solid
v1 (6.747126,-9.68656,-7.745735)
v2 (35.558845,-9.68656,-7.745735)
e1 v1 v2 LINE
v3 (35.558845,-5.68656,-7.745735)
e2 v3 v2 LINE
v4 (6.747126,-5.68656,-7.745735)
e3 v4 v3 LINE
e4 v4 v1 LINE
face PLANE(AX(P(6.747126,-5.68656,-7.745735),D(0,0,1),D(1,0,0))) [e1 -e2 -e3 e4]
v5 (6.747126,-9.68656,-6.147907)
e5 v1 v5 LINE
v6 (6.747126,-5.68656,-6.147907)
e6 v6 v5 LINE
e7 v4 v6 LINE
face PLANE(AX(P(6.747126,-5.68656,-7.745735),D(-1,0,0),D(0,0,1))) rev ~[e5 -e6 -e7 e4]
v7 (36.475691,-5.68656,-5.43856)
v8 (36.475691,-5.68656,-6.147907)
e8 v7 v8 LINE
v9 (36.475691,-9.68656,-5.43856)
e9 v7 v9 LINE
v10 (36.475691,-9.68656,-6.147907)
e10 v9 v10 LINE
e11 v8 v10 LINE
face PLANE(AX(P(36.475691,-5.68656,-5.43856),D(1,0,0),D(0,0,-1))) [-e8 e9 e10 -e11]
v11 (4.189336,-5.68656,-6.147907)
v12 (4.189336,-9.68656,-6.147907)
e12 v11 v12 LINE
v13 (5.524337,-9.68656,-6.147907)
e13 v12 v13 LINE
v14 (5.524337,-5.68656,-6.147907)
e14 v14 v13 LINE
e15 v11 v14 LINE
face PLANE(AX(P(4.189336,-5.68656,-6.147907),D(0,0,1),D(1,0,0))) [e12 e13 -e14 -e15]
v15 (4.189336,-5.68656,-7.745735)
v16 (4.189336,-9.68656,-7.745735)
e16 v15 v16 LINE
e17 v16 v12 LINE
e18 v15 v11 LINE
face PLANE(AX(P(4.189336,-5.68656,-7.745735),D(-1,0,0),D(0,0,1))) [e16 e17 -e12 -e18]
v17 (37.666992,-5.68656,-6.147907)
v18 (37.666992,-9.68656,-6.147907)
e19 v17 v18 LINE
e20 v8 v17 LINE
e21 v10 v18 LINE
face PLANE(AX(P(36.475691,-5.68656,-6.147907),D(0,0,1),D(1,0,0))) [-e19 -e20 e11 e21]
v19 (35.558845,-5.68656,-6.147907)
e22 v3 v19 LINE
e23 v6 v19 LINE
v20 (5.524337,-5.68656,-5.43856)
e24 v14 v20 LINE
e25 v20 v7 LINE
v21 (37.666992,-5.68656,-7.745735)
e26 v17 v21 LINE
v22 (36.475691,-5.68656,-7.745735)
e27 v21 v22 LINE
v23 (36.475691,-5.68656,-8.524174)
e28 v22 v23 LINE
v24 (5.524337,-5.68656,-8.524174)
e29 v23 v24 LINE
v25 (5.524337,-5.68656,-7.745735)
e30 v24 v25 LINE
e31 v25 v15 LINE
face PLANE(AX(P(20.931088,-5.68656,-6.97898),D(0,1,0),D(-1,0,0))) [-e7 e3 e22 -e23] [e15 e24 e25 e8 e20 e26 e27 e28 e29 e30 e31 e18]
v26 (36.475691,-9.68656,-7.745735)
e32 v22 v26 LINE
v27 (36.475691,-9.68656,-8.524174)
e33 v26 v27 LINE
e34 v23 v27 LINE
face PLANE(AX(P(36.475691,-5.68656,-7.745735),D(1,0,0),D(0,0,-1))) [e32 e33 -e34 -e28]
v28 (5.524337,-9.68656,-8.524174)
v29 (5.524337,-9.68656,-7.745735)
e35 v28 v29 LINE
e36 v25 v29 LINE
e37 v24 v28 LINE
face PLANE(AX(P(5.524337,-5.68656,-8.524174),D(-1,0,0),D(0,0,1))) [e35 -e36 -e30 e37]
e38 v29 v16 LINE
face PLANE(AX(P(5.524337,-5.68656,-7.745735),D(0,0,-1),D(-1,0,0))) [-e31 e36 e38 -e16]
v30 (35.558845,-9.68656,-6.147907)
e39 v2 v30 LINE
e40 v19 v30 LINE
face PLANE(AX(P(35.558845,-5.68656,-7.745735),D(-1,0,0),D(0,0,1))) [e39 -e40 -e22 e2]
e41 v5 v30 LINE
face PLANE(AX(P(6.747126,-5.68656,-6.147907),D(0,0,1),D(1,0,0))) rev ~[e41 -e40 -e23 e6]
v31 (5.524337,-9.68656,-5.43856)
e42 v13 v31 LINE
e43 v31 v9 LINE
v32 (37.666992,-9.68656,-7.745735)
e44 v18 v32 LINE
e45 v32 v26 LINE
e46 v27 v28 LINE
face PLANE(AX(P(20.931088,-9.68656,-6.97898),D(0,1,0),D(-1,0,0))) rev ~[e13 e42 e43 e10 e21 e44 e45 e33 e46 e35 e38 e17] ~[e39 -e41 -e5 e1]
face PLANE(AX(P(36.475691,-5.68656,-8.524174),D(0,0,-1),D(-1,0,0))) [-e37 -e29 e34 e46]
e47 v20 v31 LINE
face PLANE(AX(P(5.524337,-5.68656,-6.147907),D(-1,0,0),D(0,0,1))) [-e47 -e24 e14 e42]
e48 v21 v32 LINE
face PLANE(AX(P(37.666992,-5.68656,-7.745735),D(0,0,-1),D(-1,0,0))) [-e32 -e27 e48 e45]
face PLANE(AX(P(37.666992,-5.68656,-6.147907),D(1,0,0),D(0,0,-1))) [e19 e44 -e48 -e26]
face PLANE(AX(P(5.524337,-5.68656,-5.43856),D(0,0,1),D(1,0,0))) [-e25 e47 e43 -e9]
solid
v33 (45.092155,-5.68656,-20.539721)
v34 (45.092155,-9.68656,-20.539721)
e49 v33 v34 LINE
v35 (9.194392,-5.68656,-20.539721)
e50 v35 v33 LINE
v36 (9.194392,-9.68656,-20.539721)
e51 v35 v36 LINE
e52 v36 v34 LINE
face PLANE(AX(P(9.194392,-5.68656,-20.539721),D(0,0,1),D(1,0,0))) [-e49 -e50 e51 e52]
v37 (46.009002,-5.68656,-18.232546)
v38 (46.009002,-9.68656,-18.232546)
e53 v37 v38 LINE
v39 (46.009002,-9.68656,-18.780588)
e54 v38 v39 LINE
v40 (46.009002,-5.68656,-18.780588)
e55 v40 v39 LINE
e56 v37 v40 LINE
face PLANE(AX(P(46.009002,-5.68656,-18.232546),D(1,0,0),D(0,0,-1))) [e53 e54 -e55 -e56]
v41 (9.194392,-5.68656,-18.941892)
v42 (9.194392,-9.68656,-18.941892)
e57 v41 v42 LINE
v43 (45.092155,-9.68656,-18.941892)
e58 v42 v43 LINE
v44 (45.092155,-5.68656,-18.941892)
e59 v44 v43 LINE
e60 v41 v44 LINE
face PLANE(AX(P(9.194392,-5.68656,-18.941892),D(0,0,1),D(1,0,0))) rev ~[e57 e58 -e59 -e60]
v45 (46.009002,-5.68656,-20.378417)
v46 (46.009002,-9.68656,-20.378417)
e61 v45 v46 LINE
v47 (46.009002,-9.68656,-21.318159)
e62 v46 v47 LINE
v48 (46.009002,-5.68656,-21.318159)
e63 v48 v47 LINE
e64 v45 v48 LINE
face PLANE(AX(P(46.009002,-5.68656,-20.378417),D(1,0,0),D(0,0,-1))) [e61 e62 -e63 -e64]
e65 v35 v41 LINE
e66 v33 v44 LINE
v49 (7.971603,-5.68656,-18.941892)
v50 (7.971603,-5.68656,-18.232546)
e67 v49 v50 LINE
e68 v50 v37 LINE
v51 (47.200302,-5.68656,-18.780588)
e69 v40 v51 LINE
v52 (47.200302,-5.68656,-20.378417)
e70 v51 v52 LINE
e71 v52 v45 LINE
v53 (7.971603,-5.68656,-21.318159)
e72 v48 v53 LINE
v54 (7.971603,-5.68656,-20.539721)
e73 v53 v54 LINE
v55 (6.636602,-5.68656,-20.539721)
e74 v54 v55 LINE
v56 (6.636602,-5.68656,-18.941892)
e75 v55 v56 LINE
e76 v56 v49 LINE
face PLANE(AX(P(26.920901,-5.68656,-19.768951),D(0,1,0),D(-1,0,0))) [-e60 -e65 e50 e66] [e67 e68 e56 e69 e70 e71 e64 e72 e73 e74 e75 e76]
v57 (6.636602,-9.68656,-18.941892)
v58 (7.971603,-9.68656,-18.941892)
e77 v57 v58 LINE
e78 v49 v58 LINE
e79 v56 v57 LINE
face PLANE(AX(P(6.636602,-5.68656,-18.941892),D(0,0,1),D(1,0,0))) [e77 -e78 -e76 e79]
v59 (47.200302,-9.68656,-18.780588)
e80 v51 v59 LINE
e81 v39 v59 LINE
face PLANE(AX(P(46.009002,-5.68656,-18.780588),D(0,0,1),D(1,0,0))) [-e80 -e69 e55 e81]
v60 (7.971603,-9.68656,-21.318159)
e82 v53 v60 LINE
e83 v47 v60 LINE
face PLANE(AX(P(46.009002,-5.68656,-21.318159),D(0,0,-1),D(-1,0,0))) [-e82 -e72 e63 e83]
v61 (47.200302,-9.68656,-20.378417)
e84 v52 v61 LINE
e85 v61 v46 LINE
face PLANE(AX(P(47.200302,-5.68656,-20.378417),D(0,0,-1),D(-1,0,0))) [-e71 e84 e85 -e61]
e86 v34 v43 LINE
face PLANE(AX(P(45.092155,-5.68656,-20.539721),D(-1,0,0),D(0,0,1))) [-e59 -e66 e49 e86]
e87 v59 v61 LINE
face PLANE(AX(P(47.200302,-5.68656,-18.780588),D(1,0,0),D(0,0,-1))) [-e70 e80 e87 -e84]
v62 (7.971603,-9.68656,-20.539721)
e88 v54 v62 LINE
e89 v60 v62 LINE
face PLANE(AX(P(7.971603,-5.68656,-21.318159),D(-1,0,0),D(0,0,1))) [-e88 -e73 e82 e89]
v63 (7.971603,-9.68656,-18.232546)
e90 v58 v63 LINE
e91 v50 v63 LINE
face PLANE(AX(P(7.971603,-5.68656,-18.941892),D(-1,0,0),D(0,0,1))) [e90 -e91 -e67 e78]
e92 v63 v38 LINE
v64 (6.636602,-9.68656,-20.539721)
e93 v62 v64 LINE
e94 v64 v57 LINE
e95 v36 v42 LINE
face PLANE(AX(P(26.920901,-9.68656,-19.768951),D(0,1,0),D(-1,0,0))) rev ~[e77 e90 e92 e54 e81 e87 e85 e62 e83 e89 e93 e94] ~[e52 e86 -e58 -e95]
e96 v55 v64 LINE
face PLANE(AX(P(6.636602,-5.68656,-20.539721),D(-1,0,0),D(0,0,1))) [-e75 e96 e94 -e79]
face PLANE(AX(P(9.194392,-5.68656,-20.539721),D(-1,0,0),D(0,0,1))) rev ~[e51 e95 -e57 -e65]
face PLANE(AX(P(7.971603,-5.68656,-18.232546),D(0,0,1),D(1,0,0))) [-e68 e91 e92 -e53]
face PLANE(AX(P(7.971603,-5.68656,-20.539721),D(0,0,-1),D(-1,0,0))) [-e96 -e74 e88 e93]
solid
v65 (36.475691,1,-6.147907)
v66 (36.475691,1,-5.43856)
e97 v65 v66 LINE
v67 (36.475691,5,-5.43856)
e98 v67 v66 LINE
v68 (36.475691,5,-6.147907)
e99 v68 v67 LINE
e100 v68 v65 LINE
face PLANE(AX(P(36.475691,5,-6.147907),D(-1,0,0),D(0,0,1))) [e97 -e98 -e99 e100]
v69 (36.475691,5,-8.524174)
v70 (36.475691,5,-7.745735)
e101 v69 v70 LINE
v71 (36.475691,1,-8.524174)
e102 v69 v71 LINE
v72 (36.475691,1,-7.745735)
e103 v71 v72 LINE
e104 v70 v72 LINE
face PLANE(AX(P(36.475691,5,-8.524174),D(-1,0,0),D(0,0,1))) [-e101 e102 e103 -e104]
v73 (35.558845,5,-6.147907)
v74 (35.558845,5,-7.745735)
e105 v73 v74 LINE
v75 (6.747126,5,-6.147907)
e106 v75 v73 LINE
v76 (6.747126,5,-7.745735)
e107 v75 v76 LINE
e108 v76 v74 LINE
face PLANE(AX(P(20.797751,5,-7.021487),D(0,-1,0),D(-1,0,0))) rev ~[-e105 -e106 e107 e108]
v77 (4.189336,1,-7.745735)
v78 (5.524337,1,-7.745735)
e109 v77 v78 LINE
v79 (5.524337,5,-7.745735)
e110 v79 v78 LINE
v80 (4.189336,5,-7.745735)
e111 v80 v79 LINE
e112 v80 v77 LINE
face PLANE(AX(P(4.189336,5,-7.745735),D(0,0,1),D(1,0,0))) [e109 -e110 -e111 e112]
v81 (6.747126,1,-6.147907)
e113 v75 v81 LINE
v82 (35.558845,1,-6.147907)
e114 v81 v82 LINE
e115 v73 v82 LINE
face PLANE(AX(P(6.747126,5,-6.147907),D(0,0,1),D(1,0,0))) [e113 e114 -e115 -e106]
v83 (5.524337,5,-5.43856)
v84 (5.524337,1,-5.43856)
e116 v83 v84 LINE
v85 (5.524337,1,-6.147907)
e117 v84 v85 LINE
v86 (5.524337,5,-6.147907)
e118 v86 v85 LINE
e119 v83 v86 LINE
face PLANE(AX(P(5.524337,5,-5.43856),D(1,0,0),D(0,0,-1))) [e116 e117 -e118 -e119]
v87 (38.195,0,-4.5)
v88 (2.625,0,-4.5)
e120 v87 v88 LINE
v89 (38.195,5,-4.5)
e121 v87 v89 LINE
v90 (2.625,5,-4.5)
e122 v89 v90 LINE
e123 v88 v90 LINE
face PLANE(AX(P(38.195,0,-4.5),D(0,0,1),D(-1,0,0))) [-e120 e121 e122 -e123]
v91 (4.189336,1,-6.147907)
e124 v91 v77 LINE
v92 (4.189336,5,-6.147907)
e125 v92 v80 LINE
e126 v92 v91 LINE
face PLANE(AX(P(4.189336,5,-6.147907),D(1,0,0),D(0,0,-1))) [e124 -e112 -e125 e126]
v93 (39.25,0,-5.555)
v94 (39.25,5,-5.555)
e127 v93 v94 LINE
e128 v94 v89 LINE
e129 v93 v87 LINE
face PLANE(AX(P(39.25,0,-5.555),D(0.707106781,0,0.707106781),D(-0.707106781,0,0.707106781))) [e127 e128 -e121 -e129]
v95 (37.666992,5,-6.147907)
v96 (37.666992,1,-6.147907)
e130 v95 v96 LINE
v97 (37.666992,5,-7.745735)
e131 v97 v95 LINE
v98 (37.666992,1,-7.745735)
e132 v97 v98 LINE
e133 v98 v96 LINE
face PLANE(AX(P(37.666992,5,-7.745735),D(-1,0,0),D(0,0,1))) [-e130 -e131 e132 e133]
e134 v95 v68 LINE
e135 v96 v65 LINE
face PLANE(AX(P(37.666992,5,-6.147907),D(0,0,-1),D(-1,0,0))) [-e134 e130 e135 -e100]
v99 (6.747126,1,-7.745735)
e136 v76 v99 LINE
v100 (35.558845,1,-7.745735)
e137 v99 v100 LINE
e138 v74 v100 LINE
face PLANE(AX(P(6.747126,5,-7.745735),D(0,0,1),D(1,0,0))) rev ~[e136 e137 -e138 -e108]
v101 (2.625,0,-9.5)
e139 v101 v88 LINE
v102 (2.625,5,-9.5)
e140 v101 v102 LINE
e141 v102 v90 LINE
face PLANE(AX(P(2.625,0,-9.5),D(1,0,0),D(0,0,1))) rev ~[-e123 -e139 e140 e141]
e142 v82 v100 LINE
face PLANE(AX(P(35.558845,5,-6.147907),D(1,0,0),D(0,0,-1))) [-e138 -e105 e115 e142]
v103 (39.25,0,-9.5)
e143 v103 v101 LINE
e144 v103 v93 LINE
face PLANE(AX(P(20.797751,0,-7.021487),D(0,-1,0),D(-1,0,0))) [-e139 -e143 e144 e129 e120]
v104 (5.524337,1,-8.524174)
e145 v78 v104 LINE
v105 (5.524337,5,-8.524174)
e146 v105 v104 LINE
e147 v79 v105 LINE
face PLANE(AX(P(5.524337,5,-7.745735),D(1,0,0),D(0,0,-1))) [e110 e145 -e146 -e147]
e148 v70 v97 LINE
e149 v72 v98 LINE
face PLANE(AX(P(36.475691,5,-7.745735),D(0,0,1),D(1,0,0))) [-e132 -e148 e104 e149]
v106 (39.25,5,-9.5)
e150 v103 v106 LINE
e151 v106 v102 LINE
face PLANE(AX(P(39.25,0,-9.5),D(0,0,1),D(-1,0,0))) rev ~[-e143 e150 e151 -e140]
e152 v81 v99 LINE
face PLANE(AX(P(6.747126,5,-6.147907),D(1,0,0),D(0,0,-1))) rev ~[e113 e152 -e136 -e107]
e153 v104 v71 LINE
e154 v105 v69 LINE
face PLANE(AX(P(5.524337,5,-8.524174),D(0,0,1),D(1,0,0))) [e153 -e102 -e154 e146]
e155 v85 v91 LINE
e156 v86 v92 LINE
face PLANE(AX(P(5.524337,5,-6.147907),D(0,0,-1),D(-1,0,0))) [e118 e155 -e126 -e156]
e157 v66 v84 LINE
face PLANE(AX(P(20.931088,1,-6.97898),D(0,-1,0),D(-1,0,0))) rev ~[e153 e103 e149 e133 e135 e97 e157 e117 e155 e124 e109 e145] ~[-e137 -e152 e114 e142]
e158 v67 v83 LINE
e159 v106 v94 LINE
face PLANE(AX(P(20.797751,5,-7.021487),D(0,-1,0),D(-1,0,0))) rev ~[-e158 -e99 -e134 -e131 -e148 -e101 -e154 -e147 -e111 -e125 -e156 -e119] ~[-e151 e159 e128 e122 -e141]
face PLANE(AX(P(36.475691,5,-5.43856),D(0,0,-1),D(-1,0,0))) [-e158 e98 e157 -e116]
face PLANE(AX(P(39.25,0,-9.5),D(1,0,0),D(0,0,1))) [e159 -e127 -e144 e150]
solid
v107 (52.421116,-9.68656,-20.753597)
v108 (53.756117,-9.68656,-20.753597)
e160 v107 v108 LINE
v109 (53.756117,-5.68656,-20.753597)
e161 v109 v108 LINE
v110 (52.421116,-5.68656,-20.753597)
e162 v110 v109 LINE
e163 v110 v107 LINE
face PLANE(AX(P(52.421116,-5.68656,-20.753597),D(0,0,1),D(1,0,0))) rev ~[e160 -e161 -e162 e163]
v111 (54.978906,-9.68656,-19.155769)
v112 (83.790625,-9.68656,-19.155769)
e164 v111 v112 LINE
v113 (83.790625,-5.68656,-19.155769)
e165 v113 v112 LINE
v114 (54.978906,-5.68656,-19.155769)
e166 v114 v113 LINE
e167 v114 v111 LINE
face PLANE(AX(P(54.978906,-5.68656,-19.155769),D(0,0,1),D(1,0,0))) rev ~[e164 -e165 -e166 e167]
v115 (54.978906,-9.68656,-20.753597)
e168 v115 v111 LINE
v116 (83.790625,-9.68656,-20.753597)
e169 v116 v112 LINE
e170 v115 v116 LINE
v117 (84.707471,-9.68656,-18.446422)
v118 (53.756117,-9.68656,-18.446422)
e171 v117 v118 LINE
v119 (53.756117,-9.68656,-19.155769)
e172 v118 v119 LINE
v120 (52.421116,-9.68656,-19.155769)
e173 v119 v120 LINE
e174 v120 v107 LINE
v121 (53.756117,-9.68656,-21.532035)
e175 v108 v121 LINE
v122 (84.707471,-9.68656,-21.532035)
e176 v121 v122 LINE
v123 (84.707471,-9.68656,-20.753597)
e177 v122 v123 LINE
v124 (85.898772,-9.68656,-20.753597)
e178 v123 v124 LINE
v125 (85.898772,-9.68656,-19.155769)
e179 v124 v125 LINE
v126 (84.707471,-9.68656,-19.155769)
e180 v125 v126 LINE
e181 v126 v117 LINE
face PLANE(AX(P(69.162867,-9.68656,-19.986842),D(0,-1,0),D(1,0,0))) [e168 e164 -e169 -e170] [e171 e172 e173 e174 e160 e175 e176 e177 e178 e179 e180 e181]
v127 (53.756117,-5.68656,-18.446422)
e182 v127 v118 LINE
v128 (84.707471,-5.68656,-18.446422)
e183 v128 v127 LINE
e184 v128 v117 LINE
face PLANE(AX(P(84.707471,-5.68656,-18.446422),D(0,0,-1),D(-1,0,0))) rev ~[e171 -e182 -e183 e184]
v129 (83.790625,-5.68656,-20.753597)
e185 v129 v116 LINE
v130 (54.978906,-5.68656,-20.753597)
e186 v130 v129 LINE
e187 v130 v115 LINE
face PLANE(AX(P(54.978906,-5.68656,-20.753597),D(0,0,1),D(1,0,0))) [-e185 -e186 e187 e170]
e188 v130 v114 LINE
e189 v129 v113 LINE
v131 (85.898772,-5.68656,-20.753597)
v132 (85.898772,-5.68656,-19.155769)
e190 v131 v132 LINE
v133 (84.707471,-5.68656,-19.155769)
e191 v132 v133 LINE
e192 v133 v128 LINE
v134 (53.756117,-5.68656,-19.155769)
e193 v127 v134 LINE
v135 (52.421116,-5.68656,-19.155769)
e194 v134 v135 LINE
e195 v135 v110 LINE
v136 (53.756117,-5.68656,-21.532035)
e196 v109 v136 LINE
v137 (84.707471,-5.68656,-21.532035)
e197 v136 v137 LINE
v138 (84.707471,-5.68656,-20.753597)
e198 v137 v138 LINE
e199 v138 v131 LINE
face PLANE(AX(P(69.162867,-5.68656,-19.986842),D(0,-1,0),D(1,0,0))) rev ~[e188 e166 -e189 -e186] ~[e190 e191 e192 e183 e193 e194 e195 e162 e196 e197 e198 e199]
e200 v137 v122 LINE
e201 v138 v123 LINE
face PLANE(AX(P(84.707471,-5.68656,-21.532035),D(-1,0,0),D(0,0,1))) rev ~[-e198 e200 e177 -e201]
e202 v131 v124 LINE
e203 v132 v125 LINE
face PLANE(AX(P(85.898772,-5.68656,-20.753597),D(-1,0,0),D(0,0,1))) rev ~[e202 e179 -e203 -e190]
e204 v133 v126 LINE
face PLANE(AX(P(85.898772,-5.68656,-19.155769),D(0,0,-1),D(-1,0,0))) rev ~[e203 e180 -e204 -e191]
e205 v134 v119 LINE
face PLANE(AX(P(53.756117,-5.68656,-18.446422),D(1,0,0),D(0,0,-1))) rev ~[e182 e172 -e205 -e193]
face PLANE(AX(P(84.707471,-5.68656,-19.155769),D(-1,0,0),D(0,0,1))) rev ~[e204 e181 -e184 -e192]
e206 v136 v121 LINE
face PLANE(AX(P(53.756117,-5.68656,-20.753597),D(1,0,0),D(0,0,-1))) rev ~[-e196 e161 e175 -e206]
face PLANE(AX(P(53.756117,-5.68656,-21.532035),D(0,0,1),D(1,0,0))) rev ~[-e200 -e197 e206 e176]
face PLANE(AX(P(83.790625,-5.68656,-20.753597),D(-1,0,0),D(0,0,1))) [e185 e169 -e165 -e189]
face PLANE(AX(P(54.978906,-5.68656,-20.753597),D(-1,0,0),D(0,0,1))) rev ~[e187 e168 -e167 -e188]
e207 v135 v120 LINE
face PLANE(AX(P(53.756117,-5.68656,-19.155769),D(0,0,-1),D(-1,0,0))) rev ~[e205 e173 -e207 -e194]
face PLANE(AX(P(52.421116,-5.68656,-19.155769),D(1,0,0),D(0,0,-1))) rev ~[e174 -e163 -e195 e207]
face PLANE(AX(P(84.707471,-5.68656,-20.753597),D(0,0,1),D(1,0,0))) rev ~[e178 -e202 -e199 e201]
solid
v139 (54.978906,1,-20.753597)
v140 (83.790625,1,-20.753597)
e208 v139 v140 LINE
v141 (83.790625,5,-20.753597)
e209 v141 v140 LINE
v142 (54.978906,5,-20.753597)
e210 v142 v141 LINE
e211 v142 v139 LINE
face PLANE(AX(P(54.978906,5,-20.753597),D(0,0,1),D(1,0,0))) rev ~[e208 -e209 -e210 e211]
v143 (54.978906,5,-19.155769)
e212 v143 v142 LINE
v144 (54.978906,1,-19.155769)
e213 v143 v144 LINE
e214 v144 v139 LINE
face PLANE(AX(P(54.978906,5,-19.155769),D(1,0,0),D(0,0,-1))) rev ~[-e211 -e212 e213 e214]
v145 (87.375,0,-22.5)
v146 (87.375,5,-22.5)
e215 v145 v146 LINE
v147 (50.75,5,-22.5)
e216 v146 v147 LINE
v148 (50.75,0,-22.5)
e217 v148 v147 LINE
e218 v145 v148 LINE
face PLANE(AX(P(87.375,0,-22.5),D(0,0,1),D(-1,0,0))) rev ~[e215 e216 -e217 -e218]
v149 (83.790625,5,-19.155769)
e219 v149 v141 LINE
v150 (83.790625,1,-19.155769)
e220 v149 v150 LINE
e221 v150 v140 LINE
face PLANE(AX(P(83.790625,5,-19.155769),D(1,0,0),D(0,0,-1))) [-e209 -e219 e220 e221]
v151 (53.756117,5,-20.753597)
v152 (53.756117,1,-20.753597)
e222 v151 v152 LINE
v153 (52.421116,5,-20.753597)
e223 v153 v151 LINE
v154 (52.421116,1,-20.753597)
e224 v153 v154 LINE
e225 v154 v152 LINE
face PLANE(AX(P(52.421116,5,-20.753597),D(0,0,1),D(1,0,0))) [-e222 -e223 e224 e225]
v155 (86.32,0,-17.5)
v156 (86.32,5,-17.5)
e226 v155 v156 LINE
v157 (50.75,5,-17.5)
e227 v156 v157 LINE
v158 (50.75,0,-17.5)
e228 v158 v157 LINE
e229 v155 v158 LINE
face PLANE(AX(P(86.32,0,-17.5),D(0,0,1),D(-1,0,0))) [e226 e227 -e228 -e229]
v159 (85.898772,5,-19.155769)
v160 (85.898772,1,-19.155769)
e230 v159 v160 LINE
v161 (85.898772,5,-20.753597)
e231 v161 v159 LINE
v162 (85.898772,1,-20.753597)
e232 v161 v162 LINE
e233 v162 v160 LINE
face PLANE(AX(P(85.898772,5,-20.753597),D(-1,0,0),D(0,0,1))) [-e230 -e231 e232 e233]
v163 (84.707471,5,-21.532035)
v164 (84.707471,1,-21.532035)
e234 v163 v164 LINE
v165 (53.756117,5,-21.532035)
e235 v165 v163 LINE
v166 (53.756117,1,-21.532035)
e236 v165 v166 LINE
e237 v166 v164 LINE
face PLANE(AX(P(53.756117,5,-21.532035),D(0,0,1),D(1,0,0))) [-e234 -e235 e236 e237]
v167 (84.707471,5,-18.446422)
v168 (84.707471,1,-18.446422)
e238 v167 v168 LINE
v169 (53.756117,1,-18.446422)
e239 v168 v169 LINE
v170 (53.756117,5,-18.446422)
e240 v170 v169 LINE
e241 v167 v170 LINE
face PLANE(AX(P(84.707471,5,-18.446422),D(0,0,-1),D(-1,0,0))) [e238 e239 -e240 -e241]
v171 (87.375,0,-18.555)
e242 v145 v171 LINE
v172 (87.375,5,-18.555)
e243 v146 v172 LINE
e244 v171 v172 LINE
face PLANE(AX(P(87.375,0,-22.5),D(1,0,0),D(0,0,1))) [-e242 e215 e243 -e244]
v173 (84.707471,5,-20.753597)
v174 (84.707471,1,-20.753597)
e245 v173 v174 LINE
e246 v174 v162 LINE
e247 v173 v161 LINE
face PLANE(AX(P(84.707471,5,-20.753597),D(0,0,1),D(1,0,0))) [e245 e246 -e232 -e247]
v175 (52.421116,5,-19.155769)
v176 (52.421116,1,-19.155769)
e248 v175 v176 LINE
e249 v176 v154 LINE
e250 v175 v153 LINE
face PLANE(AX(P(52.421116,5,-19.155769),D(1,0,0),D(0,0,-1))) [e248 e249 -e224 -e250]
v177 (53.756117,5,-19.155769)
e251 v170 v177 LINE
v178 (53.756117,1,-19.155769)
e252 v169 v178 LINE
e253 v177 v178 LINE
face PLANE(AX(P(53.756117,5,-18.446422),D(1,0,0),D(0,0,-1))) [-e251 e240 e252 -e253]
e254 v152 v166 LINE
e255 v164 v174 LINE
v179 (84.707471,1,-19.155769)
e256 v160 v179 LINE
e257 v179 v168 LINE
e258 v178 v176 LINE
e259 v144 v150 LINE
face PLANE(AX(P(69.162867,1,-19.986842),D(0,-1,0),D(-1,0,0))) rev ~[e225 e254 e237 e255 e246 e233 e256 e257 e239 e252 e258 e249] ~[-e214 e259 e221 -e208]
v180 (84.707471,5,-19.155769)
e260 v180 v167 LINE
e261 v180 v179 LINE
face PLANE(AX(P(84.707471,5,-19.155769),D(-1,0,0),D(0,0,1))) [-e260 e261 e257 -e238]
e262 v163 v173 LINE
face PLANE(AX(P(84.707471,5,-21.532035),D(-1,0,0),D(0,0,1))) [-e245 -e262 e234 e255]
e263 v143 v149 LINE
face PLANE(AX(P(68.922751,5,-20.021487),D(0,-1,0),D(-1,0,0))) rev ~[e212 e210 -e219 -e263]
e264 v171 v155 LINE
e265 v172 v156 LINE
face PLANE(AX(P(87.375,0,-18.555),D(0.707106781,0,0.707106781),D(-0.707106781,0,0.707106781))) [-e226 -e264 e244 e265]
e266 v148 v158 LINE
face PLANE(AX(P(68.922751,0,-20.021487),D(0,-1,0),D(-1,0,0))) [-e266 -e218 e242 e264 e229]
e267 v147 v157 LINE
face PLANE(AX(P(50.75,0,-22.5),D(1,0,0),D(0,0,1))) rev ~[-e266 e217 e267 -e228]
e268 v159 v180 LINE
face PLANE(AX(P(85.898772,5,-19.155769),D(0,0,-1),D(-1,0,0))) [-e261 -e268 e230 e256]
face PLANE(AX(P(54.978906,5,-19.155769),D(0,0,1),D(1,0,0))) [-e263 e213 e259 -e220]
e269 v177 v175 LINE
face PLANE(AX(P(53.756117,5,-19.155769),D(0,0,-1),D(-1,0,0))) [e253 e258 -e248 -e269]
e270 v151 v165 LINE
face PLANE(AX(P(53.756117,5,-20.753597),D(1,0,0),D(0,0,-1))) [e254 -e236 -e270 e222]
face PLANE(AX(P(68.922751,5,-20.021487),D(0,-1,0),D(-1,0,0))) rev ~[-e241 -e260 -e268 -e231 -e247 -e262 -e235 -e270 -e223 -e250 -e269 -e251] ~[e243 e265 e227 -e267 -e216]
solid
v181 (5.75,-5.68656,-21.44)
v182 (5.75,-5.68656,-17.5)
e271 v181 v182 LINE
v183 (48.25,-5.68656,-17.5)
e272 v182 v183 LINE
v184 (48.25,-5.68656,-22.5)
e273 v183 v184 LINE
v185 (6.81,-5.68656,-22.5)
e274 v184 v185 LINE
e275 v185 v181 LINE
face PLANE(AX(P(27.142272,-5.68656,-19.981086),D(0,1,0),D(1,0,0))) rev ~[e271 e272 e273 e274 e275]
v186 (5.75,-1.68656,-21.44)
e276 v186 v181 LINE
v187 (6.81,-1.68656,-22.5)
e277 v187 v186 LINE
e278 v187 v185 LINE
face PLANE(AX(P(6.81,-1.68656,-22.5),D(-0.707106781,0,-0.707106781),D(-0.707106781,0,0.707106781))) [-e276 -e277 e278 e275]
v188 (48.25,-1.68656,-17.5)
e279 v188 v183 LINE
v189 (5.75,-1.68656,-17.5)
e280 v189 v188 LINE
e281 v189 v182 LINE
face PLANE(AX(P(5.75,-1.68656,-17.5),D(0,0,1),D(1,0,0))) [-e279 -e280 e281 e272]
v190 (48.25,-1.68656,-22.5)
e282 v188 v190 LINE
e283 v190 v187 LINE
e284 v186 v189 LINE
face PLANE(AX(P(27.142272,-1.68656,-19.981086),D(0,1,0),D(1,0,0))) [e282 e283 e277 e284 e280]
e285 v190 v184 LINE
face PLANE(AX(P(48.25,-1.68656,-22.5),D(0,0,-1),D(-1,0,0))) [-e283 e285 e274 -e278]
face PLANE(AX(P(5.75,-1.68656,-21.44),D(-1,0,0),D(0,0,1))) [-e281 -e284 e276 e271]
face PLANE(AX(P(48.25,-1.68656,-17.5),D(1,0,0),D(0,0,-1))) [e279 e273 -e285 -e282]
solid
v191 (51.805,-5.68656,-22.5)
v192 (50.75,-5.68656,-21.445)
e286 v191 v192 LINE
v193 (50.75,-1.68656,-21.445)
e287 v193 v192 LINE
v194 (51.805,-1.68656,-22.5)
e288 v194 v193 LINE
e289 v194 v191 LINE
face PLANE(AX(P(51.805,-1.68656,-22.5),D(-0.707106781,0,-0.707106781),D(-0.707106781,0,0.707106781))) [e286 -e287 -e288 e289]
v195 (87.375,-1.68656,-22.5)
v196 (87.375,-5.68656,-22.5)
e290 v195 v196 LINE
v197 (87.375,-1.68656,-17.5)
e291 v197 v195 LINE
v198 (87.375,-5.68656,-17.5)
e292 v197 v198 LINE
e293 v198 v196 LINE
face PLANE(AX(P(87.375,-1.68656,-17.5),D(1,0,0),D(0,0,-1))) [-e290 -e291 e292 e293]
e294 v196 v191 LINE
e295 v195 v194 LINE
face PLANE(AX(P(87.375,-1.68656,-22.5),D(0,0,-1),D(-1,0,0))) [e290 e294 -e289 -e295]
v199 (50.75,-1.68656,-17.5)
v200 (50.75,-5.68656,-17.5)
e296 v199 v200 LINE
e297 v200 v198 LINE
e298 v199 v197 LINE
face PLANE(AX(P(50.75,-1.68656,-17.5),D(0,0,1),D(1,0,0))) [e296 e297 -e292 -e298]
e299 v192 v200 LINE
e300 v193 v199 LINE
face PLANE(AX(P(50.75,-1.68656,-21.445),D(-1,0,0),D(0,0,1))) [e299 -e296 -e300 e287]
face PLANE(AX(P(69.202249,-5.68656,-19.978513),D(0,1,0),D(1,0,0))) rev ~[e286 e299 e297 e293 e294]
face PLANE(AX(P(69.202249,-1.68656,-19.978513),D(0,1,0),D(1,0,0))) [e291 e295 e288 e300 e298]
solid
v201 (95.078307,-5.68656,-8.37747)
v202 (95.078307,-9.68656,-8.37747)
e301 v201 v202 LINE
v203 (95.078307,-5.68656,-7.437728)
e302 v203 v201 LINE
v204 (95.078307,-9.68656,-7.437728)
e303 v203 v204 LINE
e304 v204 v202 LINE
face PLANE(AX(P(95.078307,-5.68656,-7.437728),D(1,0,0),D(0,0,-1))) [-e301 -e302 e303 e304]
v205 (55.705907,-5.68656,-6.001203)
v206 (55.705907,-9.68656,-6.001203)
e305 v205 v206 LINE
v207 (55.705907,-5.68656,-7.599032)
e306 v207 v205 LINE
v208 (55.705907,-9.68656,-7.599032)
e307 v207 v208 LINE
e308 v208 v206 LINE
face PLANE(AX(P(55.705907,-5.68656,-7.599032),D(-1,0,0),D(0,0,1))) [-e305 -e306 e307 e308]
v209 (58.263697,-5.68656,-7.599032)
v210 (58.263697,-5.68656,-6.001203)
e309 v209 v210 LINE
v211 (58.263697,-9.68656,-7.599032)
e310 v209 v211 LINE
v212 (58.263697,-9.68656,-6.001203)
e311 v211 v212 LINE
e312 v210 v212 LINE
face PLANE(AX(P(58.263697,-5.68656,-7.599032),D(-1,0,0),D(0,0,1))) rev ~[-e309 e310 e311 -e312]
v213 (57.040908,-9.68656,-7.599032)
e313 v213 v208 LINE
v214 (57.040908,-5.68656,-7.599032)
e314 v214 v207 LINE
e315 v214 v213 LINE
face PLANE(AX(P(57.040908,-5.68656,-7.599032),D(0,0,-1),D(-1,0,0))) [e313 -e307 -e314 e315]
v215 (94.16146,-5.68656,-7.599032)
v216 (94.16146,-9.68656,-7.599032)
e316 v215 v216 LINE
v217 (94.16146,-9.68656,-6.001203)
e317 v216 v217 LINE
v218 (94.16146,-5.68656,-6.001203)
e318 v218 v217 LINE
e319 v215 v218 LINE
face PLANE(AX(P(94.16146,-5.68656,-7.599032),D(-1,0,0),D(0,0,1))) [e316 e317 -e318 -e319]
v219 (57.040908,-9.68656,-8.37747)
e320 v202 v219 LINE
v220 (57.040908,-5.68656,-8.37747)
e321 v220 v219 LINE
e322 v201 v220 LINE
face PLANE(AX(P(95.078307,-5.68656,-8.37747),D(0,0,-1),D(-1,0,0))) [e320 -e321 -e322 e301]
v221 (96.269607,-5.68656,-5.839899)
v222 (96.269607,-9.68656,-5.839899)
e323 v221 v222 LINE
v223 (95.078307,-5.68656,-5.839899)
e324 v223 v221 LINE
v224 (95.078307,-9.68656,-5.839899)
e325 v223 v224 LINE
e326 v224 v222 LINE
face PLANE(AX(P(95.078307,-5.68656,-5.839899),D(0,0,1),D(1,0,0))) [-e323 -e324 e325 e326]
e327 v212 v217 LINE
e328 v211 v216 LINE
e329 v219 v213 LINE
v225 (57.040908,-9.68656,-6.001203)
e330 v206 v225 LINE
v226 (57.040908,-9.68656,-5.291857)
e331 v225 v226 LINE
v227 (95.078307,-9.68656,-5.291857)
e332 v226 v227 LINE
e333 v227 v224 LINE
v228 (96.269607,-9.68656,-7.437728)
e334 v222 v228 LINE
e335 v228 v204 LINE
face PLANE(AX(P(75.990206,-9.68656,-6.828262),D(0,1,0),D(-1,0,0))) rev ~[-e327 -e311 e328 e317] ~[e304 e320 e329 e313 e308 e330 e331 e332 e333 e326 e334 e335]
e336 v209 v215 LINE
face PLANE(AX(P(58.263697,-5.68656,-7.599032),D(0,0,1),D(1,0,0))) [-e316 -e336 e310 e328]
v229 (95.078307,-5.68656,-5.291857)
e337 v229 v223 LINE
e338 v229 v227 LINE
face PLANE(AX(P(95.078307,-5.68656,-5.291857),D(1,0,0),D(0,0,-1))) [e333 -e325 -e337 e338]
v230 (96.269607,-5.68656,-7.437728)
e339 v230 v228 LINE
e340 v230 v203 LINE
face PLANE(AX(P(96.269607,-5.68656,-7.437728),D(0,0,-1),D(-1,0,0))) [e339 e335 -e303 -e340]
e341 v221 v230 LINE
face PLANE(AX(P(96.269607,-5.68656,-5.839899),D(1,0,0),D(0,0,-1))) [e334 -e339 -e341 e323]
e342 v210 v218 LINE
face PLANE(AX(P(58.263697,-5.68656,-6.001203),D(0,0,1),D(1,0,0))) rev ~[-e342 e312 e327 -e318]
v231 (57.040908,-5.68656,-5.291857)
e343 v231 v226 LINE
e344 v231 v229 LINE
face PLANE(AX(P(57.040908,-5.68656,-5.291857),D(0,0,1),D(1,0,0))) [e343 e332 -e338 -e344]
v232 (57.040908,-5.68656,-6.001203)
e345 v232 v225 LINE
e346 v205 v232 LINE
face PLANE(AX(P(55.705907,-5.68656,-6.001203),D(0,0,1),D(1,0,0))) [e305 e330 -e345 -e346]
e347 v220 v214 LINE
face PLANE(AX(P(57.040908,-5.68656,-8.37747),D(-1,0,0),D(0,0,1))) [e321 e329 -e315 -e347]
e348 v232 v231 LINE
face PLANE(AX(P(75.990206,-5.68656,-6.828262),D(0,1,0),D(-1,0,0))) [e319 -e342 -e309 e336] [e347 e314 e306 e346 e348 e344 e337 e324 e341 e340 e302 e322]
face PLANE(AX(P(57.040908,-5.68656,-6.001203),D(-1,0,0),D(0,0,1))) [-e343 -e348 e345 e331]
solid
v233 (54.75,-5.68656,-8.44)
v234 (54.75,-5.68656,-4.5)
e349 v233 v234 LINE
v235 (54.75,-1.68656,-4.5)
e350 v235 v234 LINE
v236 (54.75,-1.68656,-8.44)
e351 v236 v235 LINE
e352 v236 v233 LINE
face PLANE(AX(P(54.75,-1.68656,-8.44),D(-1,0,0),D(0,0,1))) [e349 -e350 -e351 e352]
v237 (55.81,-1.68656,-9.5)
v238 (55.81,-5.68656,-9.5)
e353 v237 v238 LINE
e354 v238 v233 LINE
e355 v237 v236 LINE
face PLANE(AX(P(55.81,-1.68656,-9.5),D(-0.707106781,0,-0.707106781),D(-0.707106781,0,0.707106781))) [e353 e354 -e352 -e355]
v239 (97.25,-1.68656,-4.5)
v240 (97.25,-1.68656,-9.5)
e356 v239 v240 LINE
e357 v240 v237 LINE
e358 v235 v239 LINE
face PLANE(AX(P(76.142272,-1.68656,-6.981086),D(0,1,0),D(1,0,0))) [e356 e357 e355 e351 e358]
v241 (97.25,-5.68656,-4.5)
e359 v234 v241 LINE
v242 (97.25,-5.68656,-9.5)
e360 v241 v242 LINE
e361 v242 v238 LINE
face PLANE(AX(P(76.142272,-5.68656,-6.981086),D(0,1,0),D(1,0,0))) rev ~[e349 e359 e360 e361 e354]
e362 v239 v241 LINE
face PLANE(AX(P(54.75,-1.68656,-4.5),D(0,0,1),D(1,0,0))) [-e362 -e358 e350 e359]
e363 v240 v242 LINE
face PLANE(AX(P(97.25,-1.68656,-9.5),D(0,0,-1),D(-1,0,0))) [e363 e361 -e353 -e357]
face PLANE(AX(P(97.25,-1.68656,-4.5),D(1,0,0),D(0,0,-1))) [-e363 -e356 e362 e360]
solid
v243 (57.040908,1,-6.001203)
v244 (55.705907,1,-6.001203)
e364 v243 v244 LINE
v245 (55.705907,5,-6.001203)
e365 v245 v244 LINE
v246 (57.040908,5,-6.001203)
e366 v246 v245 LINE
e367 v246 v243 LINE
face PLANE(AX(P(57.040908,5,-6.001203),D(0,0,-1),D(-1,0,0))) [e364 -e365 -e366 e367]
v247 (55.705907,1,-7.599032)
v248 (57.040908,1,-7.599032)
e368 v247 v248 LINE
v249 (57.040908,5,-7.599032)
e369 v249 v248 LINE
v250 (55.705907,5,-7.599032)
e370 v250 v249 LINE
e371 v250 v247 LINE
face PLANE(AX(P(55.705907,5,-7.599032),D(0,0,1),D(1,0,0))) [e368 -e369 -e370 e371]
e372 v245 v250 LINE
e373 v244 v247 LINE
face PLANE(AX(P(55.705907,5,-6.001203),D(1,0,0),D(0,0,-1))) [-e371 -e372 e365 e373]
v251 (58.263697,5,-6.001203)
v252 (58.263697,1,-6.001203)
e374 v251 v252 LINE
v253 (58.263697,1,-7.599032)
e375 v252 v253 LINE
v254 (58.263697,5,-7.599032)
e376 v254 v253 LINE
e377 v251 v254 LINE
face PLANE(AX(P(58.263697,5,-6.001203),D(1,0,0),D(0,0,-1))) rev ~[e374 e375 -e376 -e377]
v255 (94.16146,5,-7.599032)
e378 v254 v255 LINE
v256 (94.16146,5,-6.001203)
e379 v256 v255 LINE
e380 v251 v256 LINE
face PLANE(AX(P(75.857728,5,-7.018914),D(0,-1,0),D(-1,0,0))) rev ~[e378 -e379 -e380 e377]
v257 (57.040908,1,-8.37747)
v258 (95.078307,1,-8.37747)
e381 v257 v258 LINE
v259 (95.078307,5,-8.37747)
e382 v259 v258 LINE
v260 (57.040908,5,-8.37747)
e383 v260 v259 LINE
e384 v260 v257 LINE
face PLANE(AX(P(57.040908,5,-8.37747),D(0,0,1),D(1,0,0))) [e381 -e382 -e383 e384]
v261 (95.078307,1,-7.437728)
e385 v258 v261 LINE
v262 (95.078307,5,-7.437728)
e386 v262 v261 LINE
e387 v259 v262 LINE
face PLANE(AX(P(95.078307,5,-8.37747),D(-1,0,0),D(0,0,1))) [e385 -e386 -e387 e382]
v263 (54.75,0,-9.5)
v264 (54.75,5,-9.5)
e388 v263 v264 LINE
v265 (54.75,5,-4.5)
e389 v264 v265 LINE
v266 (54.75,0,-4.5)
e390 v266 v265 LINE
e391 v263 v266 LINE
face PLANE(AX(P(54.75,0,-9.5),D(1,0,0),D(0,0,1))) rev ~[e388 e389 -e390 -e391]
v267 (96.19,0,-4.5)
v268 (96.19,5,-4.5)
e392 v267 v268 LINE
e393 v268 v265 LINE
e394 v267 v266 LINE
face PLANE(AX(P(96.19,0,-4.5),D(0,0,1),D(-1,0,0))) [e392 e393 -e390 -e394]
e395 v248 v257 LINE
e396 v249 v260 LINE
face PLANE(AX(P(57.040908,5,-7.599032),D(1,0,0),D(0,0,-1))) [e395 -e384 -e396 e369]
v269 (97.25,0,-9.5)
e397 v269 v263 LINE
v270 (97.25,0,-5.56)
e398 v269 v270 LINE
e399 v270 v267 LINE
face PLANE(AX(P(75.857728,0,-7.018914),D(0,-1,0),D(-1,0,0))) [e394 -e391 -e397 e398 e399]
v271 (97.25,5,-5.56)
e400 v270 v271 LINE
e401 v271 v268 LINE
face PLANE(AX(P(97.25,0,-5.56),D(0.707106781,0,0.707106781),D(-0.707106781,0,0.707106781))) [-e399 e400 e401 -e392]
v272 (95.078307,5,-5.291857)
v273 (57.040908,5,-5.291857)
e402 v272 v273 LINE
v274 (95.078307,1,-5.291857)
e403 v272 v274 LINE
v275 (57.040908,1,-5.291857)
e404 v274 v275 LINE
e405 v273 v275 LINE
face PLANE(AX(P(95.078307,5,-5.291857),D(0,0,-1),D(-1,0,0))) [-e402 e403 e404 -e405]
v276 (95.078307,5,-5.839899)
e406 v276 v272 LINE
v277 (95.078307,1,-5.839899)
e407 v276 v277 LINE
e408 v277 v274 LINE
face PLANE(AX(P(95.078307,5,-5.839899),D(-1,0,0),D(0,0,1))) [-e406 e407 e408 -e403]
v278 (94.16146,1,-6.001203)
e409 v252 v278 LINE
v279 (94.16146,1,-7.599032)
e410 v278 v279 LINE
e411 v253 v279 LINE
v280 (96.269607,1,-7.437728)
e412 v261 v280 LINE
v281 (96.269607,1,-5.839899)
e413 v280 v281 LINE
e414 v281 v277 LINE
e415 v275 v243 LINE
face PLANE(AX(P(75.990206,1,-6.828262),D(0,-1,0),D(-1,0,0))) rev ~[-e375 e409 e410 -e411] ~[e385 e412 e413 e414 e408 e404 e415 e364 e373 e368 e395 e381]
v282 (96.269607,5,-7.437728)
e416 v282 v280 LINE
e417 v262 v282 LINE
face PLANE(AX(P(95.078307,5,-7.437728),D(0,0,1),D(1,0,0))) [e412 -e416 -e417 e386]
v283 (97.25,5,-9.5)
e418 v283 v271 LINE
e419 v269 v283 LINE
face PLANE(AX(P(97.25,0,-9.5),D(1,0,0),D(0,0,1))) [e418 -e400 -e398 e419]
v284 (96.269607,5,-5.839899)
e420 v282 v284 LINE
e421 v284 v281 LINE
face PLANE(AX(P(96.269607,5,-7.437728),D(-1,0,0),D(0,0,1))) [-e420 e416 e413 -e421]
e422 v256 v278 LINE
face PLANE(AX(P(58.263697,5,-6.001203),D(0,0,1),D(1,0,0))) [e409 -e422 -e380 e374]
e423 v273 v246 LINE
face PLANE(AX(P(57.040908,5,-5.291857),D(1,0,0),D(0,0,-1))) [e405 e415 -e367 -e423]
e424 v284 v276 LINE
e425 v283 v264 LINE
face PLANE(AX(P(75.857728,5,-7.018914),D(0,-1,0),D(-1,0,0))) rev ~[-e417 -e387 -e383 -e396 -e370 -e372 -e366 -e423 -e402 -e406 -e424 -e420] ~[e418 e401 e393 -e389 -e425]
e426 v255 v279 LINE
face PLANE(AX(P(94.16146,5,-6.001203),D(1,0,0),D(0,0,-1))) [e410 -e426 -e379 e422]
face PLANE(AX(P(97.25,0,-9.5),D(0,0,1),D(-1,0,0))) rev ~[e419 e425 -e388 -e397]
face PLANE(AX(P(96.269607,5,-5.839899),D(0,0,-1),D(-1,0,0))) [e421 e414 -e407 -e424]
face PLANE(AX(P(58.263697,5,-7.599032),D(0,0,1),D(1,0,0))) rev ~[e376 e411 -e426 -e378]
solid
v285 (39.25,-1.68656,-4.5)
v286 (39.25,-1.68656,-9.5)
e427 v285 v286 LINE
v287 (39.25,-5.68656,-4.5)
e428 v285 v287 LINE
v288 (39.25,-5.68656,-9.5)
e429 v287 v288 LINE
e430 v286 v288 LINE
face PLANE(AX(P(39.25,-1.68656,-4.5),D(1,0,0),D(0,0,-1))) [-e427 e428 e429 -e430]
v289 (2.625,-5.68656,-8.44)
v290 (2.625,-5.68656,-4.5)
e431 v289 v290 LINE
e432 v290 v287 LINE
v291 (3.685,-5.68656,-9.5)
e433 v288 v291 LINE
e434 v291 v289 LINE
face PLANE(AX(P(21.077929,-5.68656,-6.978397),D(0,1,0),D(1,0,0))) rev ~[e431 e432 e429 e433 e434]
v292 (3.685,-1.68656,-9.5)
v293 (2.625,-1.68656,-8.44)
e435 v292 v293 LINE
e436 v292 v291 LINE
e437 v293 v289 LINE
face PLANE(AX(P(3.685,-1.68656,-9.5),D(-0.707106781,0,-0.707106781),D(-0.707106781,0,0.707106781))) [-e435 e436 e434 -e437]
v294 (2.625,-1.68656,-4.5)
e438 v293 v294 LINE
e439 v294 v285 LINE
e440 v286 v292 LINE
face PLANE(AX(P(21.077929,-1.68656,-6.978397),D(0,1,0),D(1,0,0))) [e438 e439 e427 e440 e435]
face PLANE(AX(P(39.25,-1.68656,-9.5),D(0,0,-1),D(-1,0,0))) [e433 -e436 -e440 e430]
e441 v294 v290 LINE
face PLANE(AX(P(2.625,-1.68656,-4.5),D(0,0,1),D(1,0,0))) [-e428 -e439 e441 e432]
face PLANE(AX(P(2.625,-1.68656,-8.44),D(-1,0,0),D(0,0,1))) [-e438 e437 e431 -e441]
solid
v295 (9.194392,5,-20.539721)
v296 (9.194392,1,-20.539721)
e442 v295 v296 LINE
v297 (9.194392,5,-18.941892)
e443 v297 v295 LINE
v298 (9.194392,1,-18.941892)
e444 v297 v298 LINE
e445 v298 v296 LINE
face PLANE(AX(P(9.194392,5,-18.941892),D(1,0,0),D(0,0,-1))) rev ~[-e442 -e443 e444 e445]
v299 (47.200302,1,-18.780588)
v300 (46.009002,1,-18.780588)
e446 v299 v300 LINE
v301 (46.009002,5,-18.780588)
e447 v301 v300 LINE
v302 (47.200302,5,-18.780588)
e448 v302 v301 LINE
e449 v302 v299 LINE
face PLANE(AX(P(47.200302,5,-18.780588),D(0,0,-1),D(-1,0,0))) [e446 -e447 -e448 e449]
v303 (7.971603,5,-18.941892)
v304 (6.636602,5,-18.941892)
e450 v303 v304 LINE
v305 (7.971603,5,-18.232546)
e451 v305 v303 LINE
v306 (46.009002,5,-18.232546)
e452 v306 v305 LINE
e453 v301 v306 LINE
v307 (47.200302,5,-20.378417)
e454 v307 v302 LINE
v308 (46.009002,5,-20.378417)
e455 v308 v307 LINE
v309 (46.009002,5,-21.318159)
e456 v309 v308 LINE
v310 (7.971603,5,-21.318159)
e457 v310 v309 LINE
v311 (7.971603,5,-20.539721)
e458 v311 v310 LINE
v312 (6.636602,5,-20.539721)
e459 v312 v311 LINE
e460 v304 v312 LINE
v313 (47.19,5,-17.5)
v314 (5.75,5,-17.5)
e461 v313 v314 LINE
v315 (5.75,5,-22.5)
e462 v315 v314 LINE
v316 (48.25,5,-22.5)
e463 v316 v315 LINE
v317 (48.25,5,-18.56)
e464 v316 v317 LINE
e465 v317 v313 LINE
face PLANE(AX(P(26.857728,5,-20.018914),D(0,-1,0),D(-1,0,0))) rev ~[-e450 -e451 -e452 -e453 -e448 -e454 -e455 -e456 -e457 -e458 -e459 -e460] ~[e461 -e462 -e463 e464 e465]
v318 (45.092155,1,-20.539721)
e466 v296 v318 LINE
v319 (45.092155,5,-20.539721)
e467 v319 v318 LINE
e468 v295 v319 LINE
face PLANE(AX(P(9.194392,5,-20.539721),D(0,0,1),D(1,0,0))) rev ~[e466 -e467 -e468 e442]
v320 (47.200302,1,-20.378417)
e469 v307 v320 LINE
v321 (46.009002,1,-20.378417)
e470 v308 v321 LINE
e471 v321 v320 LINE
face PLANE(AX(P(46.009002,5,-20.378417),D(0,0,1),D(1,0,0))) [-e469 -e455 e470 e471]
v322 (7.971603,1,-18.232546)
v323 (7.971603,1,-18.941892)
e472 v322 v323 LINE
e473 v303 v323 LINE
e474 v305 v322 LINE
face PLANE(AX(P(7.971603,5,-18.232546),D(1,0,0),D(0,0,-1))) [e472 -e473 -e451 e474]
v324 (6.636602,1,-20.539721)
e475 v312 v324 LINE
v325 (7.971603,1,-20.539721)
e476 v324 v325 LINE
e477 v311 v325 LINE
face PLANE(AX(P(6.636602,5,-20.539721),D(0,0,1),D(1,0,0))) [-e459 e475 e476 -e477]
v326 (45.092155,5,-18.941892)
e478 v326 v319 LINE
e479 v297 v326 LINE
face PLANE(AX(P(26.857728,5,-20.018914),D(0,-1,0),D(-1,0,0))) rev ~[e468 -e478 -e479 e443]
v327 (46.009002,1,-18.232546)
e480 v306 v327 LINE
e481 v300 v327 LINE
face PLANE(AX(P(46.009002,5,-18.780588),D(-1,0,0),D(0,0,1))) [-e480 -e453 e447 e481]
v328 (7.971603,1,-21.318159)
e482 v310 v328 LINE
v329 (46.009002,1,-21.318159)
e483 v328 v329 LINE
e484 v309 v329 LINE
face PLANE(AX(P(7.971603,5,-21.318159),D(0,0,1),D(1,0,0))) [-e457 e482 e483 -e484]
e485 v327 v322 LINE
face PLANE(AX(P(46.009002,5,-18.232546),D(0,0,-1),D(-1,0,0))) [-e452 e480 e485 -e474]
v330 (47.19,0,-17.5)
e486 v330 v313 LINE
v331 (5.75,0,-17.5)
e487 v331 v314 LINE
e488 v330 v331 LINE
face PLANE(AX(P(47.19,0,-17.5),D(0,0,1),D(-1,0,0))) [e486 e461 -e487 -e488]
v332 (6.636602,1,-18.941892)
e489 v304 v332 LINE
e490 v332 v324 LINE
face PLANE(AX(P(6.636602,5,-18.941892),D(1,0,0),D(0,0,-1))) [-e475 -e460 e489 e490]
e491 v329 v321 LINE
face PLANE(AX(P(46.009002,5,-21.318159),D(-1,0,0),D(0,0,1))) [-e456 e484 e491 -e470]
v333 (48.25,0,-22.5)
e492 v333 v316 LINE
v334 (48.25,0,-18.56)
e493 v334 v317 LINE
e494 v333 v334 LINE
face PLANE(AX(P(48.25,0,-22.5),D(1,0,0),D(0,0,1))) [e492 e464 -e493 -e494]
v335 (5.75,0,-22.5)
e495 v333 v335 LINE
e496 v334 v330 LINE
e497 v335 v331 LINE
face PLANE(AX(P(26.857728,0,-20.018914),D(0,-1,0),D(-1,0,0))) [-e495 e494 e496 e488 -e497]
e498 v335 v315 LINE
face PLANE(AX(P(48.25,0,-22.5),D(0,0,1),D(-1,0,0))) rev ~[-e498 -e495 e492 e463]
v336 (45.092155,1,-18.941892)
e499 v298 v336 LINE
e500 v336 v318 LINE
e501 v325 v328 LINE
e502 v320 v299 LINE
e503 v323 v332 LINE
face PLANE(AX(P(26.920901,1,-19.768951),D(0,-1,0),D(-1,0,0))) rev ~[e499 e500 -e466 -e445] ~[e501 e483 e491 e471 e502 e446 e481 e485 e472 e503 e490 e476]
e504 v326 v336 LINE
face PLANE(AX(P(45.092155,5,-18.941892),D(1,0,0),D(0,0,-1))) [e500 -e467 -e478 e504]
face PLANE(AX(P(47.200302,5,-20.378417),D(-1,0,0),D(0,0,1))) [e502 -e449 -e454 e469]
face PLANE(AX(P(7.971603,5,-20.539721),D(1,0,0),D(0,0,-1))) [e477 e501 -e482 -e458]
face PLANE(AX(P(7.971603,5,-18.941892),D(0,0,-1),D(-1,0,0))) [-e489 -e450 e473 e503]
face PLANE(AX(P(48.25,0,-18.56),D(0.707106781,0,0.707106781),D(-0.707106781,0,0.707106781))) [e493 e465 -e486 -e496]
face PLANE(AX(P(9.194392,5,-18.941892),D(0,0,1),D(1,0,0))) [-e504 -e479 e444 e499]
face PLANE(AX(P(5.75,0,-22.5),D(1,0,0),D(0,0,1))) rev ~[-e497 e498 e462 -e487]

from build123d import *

# Parameters (mm, degrees)
SV_DEPTH           = 5
SV_2_DEPTH         = 5
SV_3_DEPTH         = 5
SV_4_DEPTH         = 5
SKETCH3_W          = 28.811718275
SKETCH3_H          = 1.597828601
SKETCH3_W_2        = 35.897762959
SKETCH3_W_3        = 35.897762958
CUT_EXTRUDE1_DEPTH = 4
SV4_A_DEPTH        = 4
SV4_A_2_DEPTH      = 4
SV4_A_3_DEPTH      = 4
SV4_A_4_DEPTH      = 4
SKETCH7_W          = 35.897762958
SKETCH7_H          = 1.597828601
SV4_B_DEPTH        = 4
SKETCH7_W_2        = 28.811718275
SV4_B_2_DEPTH      = 4
SKETCH7_W_3        = 35.897762959
SV4_B_3_DEPTH      = 4
SV4_B_4_DEPTH      = 4


with BuildPart() as part:
    # Sketch1 → SV (new body)
    with BuildSketch(Plane(origin=(0, 0, 0), x_dir=(1, 0, 0), z_dir=(0, 1, 0))):
        Polygon((55.811, 9.5), (97.25, 9.5), (97.25, 5.56), (96.19, 4.5), (54.75, 4.5), (54.75, 8.439), (54.75, 9.5), align=None)
    extrude(amount=SV_DEPTH)


with BuildPart() as body_2:
    # Sketch1 → SV 2 (new body)
    with BuildSketch(Plane(origin=(0, 0, 0), x_dir=(1, 0, 0), z_dir=(0, 1, 0))):
        Polygon((3.686, 9.5), (39.25, 9.5), (39.25, 5.555), (38.195, 4.5), (2.625, 4.5), (2.625, 8.439), (2.625, 9.5), align=None)
    extrude(amount=SV_2_DEPTH)


with BuildPart() as body_3:
    # Sketch1 → SV 3 (new body)
    with BuildSketch(Plane(origin=(0, 0, 0), x_dir=(1, 0, 0), z_dir=(0, 1, 0))):
        Polygon((51.811, 22.5), (87.375, 22.5), (87.375, 18.555), (86.32, 17.5), (50.75, 17.5), (50.75, 21.439), (50.75, 22.5), align=None)
    extrude(amount=SV_3_DEPTH)


with BuildPart() as body_4:
    # Sketch1 → SV 4 (new body)
    with BuildSketch(Plane(origin=(0, 0, 0), x_dir=(1, 0, 0), z_dir=(0, 1, 0))):
        Polygon((6.811, 22.5), (48.25, 22.5), (48.25, 18.56), (47.19, 17.5), (5.75, 17.5), (5.75, 21.439), (5.75, 22.5), align=None)
    extrude(amount=SV_4_DEPTH)


with BuildPart() as cut_extrude1_tool:
    # Sketch3 → Cut-Extrude1 (new body)
    # profile 1 of 4: a face of its own
    with BuildSketch(Plane(origin=(0, 5, 0), x_dir=(1, 0, 0), z_dir=(0, 1, 0))):
        Polygon((4.189336253, 7.745735487), (5.524337048, 7.745735487), (5.524337048, 8.524173538), (36.475691419, 8.524173538), (36.475691419, 7.745735487), (37.666991912, 7.745735487), (37.666991912, 6.147906886), (36.475691419, 6.147906886), (36.475691419, 5.438560322), (5.524337048, 5.438560322), (5.524337048, 6.147906886), (4.189336253, 6.147906886), align=None)
        with Locations((21.152985591, 6.946821187)):
            Rectangle(SKETCH3_W, SKETCH3_H, mode=Mode.SUBTRACT)
    # profile 2 of 4: a face of its own
    with BuildSketch(Plane(origin=(0, 5, 0), x_dir=(1, 0, 0), z_dir=(0, 1, 0))):
        Polygon((52.421116037, 20.753597434), (53.756116831, 20.753597434), (53.756116831, 21.532035485), (84.707471203, 21.532035485), (84.707471203, 20.753597434), (85.898771695, 20.753597434), (85.898771695, 19.155768833), (84.707471203, 19.155768833), (84.707471203, 18.446422269), (53.756116831, 18.446422269), (53.756116831, 19.155768833), (52.421116037, 19.155768833), align=None)
        with Locations((69.384765375, 19.954683133)):
            Rectangle(SKETCH3_W, SKETCH3_H, mode=Mode.SUBTRACT)
    # profile 3 of 4: a face of its own
    with BuildSketch(Plane(origin=(0, 5, 0), x_dir=(1, 0, 0), z_dir=(0, 1, 0))):
        Polygon((55.705906871, 7.599031898), (57.040907666, 7.599031898), (57.040907666, 8.377469948), (95.07830672, 8.377469948), (95.07830672, 7.437727621), (96.269607213, 7.437727621), (96.269607213, 5.83989902), (95.07830672, 5.83989902), (95.07830672, 5.291856733), (57.040907666, 5.291856733), (57.040907666, 6.001203297), (55.705906871, 6.001203297), align=None)
        with Locations((76.21257855, 6.800117597)):
            Rectangle(SKETCH3_W_2, SKETCH3_H, mode=Mode.SUBTRACT)
    # profile 4 of 4: a face of its own
    with BuildSketch(Plane(origin=(0, 5, 0), x_dir=(1, 0, 0), z_dir=(0, 1, 0))):
        Polygon((6.636601859, 20.53972103), (7.971602653, 20.53972103), (7.971602653, 21.318159081), (46.009001708, 21.318159081), (46.009001708, 20.378416754), (47.2003022, 20.378416754), (47.2003022, 18.780588153), (46.009001708, 18.780588153), (46.009001708, 18.232545866), (7.971602653, 18.232545866), (7.971602653, 18.941892429), (6.636601859, 18.941892429), align=None)
        with Locations((27.143273538, 19.74080673)):
            Rectangle(SKETCH3_W_3, SKETCH3_H, mode=Mode.SUBTRACT)
    extrude(amount=-CUT_EXTRUDE1_DEPTH)


with BuildPart() as part_1:
    add(part.part)

    # Cut-Extrude1: cut by cut_extrude1_tool
    add(cut_extrude1_tool.part, mode=Mode.SUBTRACT)


with BuildPart() as body_2_1:
    add(body_2.part)

    # Cut-Extrude1: cut by cut_extrude1_tool
    add(cut_extrude1_tool.part, mode=Mode.SUBTRACT)


with BuildPart() as body_3_1:
    add(body_3.part)

    # Cut-Extrude1: cut by cut_extrude1_tool
    add(cut_extrude1_tool.part, mode=Mode.SUBTRACT)


with BuildPart() as body_4_1:
    add(body_4.part)

    # Cut-Extrude1: cut by cut_extrude1_tool
    add(cut_extrude1_tool.part, mode=Mode.SUBTRACT)


with BuildPart() as body_5:
    # Sketch6 → SV4(a) (new body)
    with BuildSketch(Plane(origin=(0, -1.68656, 0), x_dir=(1, 0, 0), z_dir=(0, 1, 0))):
        Polygon((2.625, 4.5), (38.195, 4.5), (39.25, 4.5), (39.25, 5.555), (39.25, 9.5), (3.685, 9.5), (2.625, 8.44), align=None)
    extrude(amount=-SV4_A_DEPTH)


with BuildPart() as body_6:
    # Sketch6 → SV4_a 2 (new body)
    with BuildSketch(Plane(origin=(0, -1.68656, 0), x_dir=(1, 0, 0), z_dir=(0, 1, 0))):
        Polygon((48.25, 18.56191605), (48.25, 22.5), (6.81, 22.5), (5.75, 21.44), (5.75, 17.5), (47.18808395, 17.5), (48.25, 17.5), align=None)
    extrude(amount=-SV4_A_2_DEPTH)


with BuildPart() as body_7:
    # Sketch6 → SV4_a 3 (new body)
    with BuildSketch(Plane(origin=(0, -1.68656, 0), x_dir=(1, 0, 0), z_dir=(0, 1, 0))):
        Polygon((54.75, 4.5), (96.19, 4.5), (97.25, 4.5), (97.25, 5.56), (97.25, 9.5), (55.81, 9.5), (54.75, 8.44), align=None)
    extrude(amount=-SV4_A_3_DEPTH)


with BuildPart() as body_8:
    # Sketch6 → SV4_a 4 (new body)
    with BuildSketch(Plane(origin=(0, -1.68656, 0), x_dir=(1, 0, 0), z_dir=(0, 1, 0))):
        Polygon((50.75, 17.5), (86.32, 17.5), (87.375, 17.5), (87.375, 18.555), (87.375, 22.5), (51.805, 22.5), (50.75, 21.445), align=None)
    extrude(amount=-SV4_A_4_DEPTH)


with BuildPart() as body_9:
    # Sketch7 → SV4(b) (new body)
    with BuildSketch(Plane.XZ.offset(5.68656)):
        Polygon((7.971602653, -21.318159081), (7.971602653, -20.53972103), (6.636601859, -20.53972103), (6.636601859, -18.941892429), (7.971602653, -18.941892429), (7.971602653, -18.232545866), (46.009001708, -18.232545866), (46.009001708, -18.780588153), (47.2003022, -18.780588153), (47.2003022, -20.378416754), (46.009001708, -20.378416754), (46.009001708, -21.318159081), align=None)
        with Locations((27.143273538, -19.74080673)):
            Rectangle(SKETCH7_W, SKETCH7_H, mode=Mode.SUBTRACT)
    extrude(amount=SV4_B_DEPTH)


with BuildPart() as body_10:
    # Sketch7 → SV4_b 2 (new body)
    with BuildSketch(Plane.XZ.offset(5.68656)):
        Polygon((53.756116831, -21.532035485), (84.707471203, -21.532035485), (84.707471203, -20.753597434), (85.898771695, -20.753597434), (85.898771695, -19.155768833), (84.707471203, -19.155768833), (84.707471203, -18.446422269), (53.756116831, -18.446422269), (53.756116831, -19.155768833), (52.421116037, -19.155768833), (52.421116037, -20.753597434), (53.756116831, -20.753597434), align=None)
        with Locations((69.384765375, -19.954683133)):
            Rectangle(SKETCH7_W_2, SKETCH7_H, mode=Mode.SUBTRACT)
    extrude(amount=SV4_B_2_DEPTH)


with BuildPart() as body_11:
    # Sketch7 → SV4_b 3 (new body)
    with BuildSketch(Plane.XZ.offset(5.68656)):
        Polygon((57.040907666, -8.377469948), (57.040907666, -7.599031898), (55.705906871, -7.599031898), (55.705906871, -6.001203297), (57.040907666, -6.001203297), (57.040907666, -5.291856733), (95.07830672, -5.291856733), (95.07830672, -5.83989902), (96.269607213, -5.83989902), (96.269607213, -7.437727621), (95.07830672, -7.437727621), (95.07830672, -8.377469948), align=None)
        with Locations((76.21257855, -6.800117597)):
            Rectangle(SKETCH7_W_3, SKETCH7_H, mode=Mode.SUBTRACT)
    extrude(amount=SV4_B_3_DEPTH)


with BuildPart() as body_12:
    # Sketch7 → SV4_b 4 (new body)
    with BuildSketch(Plane.XZ.offset(5.68656)):
        Polygon((4.189336253, -6.147906886), (5.524337048, -6.147906886), (5.524337048, -5.438560322), (36.475691419, -5.438560322), (36.475691419, -6.147906886), (37.666991912, -6.147906886), (37.666991912, -7.745735487), (36.475691419, -7.745735487), (36.475691419, -8.524173538), (5.524337048, -8.524173538), (5.524337048, -7.745735487), (4.189336253, -7.745735487), align=None)
        with Locations((21.152985591, -6.946821187)):
            Rectangle(SKETCH7_W_2, SKETCH7_H, mode=Mode.SUBTRACT)
    extrude(amount=SV4_B_4_DEPTH)


solid = Compound([part_1.part, body_2_1.part, body_3_1.part, body_4_1.part, body_5.part, body_6.part, body_7.part, body_8.part, body_9.part, body_10.part, body_11.part, body_12.part])
